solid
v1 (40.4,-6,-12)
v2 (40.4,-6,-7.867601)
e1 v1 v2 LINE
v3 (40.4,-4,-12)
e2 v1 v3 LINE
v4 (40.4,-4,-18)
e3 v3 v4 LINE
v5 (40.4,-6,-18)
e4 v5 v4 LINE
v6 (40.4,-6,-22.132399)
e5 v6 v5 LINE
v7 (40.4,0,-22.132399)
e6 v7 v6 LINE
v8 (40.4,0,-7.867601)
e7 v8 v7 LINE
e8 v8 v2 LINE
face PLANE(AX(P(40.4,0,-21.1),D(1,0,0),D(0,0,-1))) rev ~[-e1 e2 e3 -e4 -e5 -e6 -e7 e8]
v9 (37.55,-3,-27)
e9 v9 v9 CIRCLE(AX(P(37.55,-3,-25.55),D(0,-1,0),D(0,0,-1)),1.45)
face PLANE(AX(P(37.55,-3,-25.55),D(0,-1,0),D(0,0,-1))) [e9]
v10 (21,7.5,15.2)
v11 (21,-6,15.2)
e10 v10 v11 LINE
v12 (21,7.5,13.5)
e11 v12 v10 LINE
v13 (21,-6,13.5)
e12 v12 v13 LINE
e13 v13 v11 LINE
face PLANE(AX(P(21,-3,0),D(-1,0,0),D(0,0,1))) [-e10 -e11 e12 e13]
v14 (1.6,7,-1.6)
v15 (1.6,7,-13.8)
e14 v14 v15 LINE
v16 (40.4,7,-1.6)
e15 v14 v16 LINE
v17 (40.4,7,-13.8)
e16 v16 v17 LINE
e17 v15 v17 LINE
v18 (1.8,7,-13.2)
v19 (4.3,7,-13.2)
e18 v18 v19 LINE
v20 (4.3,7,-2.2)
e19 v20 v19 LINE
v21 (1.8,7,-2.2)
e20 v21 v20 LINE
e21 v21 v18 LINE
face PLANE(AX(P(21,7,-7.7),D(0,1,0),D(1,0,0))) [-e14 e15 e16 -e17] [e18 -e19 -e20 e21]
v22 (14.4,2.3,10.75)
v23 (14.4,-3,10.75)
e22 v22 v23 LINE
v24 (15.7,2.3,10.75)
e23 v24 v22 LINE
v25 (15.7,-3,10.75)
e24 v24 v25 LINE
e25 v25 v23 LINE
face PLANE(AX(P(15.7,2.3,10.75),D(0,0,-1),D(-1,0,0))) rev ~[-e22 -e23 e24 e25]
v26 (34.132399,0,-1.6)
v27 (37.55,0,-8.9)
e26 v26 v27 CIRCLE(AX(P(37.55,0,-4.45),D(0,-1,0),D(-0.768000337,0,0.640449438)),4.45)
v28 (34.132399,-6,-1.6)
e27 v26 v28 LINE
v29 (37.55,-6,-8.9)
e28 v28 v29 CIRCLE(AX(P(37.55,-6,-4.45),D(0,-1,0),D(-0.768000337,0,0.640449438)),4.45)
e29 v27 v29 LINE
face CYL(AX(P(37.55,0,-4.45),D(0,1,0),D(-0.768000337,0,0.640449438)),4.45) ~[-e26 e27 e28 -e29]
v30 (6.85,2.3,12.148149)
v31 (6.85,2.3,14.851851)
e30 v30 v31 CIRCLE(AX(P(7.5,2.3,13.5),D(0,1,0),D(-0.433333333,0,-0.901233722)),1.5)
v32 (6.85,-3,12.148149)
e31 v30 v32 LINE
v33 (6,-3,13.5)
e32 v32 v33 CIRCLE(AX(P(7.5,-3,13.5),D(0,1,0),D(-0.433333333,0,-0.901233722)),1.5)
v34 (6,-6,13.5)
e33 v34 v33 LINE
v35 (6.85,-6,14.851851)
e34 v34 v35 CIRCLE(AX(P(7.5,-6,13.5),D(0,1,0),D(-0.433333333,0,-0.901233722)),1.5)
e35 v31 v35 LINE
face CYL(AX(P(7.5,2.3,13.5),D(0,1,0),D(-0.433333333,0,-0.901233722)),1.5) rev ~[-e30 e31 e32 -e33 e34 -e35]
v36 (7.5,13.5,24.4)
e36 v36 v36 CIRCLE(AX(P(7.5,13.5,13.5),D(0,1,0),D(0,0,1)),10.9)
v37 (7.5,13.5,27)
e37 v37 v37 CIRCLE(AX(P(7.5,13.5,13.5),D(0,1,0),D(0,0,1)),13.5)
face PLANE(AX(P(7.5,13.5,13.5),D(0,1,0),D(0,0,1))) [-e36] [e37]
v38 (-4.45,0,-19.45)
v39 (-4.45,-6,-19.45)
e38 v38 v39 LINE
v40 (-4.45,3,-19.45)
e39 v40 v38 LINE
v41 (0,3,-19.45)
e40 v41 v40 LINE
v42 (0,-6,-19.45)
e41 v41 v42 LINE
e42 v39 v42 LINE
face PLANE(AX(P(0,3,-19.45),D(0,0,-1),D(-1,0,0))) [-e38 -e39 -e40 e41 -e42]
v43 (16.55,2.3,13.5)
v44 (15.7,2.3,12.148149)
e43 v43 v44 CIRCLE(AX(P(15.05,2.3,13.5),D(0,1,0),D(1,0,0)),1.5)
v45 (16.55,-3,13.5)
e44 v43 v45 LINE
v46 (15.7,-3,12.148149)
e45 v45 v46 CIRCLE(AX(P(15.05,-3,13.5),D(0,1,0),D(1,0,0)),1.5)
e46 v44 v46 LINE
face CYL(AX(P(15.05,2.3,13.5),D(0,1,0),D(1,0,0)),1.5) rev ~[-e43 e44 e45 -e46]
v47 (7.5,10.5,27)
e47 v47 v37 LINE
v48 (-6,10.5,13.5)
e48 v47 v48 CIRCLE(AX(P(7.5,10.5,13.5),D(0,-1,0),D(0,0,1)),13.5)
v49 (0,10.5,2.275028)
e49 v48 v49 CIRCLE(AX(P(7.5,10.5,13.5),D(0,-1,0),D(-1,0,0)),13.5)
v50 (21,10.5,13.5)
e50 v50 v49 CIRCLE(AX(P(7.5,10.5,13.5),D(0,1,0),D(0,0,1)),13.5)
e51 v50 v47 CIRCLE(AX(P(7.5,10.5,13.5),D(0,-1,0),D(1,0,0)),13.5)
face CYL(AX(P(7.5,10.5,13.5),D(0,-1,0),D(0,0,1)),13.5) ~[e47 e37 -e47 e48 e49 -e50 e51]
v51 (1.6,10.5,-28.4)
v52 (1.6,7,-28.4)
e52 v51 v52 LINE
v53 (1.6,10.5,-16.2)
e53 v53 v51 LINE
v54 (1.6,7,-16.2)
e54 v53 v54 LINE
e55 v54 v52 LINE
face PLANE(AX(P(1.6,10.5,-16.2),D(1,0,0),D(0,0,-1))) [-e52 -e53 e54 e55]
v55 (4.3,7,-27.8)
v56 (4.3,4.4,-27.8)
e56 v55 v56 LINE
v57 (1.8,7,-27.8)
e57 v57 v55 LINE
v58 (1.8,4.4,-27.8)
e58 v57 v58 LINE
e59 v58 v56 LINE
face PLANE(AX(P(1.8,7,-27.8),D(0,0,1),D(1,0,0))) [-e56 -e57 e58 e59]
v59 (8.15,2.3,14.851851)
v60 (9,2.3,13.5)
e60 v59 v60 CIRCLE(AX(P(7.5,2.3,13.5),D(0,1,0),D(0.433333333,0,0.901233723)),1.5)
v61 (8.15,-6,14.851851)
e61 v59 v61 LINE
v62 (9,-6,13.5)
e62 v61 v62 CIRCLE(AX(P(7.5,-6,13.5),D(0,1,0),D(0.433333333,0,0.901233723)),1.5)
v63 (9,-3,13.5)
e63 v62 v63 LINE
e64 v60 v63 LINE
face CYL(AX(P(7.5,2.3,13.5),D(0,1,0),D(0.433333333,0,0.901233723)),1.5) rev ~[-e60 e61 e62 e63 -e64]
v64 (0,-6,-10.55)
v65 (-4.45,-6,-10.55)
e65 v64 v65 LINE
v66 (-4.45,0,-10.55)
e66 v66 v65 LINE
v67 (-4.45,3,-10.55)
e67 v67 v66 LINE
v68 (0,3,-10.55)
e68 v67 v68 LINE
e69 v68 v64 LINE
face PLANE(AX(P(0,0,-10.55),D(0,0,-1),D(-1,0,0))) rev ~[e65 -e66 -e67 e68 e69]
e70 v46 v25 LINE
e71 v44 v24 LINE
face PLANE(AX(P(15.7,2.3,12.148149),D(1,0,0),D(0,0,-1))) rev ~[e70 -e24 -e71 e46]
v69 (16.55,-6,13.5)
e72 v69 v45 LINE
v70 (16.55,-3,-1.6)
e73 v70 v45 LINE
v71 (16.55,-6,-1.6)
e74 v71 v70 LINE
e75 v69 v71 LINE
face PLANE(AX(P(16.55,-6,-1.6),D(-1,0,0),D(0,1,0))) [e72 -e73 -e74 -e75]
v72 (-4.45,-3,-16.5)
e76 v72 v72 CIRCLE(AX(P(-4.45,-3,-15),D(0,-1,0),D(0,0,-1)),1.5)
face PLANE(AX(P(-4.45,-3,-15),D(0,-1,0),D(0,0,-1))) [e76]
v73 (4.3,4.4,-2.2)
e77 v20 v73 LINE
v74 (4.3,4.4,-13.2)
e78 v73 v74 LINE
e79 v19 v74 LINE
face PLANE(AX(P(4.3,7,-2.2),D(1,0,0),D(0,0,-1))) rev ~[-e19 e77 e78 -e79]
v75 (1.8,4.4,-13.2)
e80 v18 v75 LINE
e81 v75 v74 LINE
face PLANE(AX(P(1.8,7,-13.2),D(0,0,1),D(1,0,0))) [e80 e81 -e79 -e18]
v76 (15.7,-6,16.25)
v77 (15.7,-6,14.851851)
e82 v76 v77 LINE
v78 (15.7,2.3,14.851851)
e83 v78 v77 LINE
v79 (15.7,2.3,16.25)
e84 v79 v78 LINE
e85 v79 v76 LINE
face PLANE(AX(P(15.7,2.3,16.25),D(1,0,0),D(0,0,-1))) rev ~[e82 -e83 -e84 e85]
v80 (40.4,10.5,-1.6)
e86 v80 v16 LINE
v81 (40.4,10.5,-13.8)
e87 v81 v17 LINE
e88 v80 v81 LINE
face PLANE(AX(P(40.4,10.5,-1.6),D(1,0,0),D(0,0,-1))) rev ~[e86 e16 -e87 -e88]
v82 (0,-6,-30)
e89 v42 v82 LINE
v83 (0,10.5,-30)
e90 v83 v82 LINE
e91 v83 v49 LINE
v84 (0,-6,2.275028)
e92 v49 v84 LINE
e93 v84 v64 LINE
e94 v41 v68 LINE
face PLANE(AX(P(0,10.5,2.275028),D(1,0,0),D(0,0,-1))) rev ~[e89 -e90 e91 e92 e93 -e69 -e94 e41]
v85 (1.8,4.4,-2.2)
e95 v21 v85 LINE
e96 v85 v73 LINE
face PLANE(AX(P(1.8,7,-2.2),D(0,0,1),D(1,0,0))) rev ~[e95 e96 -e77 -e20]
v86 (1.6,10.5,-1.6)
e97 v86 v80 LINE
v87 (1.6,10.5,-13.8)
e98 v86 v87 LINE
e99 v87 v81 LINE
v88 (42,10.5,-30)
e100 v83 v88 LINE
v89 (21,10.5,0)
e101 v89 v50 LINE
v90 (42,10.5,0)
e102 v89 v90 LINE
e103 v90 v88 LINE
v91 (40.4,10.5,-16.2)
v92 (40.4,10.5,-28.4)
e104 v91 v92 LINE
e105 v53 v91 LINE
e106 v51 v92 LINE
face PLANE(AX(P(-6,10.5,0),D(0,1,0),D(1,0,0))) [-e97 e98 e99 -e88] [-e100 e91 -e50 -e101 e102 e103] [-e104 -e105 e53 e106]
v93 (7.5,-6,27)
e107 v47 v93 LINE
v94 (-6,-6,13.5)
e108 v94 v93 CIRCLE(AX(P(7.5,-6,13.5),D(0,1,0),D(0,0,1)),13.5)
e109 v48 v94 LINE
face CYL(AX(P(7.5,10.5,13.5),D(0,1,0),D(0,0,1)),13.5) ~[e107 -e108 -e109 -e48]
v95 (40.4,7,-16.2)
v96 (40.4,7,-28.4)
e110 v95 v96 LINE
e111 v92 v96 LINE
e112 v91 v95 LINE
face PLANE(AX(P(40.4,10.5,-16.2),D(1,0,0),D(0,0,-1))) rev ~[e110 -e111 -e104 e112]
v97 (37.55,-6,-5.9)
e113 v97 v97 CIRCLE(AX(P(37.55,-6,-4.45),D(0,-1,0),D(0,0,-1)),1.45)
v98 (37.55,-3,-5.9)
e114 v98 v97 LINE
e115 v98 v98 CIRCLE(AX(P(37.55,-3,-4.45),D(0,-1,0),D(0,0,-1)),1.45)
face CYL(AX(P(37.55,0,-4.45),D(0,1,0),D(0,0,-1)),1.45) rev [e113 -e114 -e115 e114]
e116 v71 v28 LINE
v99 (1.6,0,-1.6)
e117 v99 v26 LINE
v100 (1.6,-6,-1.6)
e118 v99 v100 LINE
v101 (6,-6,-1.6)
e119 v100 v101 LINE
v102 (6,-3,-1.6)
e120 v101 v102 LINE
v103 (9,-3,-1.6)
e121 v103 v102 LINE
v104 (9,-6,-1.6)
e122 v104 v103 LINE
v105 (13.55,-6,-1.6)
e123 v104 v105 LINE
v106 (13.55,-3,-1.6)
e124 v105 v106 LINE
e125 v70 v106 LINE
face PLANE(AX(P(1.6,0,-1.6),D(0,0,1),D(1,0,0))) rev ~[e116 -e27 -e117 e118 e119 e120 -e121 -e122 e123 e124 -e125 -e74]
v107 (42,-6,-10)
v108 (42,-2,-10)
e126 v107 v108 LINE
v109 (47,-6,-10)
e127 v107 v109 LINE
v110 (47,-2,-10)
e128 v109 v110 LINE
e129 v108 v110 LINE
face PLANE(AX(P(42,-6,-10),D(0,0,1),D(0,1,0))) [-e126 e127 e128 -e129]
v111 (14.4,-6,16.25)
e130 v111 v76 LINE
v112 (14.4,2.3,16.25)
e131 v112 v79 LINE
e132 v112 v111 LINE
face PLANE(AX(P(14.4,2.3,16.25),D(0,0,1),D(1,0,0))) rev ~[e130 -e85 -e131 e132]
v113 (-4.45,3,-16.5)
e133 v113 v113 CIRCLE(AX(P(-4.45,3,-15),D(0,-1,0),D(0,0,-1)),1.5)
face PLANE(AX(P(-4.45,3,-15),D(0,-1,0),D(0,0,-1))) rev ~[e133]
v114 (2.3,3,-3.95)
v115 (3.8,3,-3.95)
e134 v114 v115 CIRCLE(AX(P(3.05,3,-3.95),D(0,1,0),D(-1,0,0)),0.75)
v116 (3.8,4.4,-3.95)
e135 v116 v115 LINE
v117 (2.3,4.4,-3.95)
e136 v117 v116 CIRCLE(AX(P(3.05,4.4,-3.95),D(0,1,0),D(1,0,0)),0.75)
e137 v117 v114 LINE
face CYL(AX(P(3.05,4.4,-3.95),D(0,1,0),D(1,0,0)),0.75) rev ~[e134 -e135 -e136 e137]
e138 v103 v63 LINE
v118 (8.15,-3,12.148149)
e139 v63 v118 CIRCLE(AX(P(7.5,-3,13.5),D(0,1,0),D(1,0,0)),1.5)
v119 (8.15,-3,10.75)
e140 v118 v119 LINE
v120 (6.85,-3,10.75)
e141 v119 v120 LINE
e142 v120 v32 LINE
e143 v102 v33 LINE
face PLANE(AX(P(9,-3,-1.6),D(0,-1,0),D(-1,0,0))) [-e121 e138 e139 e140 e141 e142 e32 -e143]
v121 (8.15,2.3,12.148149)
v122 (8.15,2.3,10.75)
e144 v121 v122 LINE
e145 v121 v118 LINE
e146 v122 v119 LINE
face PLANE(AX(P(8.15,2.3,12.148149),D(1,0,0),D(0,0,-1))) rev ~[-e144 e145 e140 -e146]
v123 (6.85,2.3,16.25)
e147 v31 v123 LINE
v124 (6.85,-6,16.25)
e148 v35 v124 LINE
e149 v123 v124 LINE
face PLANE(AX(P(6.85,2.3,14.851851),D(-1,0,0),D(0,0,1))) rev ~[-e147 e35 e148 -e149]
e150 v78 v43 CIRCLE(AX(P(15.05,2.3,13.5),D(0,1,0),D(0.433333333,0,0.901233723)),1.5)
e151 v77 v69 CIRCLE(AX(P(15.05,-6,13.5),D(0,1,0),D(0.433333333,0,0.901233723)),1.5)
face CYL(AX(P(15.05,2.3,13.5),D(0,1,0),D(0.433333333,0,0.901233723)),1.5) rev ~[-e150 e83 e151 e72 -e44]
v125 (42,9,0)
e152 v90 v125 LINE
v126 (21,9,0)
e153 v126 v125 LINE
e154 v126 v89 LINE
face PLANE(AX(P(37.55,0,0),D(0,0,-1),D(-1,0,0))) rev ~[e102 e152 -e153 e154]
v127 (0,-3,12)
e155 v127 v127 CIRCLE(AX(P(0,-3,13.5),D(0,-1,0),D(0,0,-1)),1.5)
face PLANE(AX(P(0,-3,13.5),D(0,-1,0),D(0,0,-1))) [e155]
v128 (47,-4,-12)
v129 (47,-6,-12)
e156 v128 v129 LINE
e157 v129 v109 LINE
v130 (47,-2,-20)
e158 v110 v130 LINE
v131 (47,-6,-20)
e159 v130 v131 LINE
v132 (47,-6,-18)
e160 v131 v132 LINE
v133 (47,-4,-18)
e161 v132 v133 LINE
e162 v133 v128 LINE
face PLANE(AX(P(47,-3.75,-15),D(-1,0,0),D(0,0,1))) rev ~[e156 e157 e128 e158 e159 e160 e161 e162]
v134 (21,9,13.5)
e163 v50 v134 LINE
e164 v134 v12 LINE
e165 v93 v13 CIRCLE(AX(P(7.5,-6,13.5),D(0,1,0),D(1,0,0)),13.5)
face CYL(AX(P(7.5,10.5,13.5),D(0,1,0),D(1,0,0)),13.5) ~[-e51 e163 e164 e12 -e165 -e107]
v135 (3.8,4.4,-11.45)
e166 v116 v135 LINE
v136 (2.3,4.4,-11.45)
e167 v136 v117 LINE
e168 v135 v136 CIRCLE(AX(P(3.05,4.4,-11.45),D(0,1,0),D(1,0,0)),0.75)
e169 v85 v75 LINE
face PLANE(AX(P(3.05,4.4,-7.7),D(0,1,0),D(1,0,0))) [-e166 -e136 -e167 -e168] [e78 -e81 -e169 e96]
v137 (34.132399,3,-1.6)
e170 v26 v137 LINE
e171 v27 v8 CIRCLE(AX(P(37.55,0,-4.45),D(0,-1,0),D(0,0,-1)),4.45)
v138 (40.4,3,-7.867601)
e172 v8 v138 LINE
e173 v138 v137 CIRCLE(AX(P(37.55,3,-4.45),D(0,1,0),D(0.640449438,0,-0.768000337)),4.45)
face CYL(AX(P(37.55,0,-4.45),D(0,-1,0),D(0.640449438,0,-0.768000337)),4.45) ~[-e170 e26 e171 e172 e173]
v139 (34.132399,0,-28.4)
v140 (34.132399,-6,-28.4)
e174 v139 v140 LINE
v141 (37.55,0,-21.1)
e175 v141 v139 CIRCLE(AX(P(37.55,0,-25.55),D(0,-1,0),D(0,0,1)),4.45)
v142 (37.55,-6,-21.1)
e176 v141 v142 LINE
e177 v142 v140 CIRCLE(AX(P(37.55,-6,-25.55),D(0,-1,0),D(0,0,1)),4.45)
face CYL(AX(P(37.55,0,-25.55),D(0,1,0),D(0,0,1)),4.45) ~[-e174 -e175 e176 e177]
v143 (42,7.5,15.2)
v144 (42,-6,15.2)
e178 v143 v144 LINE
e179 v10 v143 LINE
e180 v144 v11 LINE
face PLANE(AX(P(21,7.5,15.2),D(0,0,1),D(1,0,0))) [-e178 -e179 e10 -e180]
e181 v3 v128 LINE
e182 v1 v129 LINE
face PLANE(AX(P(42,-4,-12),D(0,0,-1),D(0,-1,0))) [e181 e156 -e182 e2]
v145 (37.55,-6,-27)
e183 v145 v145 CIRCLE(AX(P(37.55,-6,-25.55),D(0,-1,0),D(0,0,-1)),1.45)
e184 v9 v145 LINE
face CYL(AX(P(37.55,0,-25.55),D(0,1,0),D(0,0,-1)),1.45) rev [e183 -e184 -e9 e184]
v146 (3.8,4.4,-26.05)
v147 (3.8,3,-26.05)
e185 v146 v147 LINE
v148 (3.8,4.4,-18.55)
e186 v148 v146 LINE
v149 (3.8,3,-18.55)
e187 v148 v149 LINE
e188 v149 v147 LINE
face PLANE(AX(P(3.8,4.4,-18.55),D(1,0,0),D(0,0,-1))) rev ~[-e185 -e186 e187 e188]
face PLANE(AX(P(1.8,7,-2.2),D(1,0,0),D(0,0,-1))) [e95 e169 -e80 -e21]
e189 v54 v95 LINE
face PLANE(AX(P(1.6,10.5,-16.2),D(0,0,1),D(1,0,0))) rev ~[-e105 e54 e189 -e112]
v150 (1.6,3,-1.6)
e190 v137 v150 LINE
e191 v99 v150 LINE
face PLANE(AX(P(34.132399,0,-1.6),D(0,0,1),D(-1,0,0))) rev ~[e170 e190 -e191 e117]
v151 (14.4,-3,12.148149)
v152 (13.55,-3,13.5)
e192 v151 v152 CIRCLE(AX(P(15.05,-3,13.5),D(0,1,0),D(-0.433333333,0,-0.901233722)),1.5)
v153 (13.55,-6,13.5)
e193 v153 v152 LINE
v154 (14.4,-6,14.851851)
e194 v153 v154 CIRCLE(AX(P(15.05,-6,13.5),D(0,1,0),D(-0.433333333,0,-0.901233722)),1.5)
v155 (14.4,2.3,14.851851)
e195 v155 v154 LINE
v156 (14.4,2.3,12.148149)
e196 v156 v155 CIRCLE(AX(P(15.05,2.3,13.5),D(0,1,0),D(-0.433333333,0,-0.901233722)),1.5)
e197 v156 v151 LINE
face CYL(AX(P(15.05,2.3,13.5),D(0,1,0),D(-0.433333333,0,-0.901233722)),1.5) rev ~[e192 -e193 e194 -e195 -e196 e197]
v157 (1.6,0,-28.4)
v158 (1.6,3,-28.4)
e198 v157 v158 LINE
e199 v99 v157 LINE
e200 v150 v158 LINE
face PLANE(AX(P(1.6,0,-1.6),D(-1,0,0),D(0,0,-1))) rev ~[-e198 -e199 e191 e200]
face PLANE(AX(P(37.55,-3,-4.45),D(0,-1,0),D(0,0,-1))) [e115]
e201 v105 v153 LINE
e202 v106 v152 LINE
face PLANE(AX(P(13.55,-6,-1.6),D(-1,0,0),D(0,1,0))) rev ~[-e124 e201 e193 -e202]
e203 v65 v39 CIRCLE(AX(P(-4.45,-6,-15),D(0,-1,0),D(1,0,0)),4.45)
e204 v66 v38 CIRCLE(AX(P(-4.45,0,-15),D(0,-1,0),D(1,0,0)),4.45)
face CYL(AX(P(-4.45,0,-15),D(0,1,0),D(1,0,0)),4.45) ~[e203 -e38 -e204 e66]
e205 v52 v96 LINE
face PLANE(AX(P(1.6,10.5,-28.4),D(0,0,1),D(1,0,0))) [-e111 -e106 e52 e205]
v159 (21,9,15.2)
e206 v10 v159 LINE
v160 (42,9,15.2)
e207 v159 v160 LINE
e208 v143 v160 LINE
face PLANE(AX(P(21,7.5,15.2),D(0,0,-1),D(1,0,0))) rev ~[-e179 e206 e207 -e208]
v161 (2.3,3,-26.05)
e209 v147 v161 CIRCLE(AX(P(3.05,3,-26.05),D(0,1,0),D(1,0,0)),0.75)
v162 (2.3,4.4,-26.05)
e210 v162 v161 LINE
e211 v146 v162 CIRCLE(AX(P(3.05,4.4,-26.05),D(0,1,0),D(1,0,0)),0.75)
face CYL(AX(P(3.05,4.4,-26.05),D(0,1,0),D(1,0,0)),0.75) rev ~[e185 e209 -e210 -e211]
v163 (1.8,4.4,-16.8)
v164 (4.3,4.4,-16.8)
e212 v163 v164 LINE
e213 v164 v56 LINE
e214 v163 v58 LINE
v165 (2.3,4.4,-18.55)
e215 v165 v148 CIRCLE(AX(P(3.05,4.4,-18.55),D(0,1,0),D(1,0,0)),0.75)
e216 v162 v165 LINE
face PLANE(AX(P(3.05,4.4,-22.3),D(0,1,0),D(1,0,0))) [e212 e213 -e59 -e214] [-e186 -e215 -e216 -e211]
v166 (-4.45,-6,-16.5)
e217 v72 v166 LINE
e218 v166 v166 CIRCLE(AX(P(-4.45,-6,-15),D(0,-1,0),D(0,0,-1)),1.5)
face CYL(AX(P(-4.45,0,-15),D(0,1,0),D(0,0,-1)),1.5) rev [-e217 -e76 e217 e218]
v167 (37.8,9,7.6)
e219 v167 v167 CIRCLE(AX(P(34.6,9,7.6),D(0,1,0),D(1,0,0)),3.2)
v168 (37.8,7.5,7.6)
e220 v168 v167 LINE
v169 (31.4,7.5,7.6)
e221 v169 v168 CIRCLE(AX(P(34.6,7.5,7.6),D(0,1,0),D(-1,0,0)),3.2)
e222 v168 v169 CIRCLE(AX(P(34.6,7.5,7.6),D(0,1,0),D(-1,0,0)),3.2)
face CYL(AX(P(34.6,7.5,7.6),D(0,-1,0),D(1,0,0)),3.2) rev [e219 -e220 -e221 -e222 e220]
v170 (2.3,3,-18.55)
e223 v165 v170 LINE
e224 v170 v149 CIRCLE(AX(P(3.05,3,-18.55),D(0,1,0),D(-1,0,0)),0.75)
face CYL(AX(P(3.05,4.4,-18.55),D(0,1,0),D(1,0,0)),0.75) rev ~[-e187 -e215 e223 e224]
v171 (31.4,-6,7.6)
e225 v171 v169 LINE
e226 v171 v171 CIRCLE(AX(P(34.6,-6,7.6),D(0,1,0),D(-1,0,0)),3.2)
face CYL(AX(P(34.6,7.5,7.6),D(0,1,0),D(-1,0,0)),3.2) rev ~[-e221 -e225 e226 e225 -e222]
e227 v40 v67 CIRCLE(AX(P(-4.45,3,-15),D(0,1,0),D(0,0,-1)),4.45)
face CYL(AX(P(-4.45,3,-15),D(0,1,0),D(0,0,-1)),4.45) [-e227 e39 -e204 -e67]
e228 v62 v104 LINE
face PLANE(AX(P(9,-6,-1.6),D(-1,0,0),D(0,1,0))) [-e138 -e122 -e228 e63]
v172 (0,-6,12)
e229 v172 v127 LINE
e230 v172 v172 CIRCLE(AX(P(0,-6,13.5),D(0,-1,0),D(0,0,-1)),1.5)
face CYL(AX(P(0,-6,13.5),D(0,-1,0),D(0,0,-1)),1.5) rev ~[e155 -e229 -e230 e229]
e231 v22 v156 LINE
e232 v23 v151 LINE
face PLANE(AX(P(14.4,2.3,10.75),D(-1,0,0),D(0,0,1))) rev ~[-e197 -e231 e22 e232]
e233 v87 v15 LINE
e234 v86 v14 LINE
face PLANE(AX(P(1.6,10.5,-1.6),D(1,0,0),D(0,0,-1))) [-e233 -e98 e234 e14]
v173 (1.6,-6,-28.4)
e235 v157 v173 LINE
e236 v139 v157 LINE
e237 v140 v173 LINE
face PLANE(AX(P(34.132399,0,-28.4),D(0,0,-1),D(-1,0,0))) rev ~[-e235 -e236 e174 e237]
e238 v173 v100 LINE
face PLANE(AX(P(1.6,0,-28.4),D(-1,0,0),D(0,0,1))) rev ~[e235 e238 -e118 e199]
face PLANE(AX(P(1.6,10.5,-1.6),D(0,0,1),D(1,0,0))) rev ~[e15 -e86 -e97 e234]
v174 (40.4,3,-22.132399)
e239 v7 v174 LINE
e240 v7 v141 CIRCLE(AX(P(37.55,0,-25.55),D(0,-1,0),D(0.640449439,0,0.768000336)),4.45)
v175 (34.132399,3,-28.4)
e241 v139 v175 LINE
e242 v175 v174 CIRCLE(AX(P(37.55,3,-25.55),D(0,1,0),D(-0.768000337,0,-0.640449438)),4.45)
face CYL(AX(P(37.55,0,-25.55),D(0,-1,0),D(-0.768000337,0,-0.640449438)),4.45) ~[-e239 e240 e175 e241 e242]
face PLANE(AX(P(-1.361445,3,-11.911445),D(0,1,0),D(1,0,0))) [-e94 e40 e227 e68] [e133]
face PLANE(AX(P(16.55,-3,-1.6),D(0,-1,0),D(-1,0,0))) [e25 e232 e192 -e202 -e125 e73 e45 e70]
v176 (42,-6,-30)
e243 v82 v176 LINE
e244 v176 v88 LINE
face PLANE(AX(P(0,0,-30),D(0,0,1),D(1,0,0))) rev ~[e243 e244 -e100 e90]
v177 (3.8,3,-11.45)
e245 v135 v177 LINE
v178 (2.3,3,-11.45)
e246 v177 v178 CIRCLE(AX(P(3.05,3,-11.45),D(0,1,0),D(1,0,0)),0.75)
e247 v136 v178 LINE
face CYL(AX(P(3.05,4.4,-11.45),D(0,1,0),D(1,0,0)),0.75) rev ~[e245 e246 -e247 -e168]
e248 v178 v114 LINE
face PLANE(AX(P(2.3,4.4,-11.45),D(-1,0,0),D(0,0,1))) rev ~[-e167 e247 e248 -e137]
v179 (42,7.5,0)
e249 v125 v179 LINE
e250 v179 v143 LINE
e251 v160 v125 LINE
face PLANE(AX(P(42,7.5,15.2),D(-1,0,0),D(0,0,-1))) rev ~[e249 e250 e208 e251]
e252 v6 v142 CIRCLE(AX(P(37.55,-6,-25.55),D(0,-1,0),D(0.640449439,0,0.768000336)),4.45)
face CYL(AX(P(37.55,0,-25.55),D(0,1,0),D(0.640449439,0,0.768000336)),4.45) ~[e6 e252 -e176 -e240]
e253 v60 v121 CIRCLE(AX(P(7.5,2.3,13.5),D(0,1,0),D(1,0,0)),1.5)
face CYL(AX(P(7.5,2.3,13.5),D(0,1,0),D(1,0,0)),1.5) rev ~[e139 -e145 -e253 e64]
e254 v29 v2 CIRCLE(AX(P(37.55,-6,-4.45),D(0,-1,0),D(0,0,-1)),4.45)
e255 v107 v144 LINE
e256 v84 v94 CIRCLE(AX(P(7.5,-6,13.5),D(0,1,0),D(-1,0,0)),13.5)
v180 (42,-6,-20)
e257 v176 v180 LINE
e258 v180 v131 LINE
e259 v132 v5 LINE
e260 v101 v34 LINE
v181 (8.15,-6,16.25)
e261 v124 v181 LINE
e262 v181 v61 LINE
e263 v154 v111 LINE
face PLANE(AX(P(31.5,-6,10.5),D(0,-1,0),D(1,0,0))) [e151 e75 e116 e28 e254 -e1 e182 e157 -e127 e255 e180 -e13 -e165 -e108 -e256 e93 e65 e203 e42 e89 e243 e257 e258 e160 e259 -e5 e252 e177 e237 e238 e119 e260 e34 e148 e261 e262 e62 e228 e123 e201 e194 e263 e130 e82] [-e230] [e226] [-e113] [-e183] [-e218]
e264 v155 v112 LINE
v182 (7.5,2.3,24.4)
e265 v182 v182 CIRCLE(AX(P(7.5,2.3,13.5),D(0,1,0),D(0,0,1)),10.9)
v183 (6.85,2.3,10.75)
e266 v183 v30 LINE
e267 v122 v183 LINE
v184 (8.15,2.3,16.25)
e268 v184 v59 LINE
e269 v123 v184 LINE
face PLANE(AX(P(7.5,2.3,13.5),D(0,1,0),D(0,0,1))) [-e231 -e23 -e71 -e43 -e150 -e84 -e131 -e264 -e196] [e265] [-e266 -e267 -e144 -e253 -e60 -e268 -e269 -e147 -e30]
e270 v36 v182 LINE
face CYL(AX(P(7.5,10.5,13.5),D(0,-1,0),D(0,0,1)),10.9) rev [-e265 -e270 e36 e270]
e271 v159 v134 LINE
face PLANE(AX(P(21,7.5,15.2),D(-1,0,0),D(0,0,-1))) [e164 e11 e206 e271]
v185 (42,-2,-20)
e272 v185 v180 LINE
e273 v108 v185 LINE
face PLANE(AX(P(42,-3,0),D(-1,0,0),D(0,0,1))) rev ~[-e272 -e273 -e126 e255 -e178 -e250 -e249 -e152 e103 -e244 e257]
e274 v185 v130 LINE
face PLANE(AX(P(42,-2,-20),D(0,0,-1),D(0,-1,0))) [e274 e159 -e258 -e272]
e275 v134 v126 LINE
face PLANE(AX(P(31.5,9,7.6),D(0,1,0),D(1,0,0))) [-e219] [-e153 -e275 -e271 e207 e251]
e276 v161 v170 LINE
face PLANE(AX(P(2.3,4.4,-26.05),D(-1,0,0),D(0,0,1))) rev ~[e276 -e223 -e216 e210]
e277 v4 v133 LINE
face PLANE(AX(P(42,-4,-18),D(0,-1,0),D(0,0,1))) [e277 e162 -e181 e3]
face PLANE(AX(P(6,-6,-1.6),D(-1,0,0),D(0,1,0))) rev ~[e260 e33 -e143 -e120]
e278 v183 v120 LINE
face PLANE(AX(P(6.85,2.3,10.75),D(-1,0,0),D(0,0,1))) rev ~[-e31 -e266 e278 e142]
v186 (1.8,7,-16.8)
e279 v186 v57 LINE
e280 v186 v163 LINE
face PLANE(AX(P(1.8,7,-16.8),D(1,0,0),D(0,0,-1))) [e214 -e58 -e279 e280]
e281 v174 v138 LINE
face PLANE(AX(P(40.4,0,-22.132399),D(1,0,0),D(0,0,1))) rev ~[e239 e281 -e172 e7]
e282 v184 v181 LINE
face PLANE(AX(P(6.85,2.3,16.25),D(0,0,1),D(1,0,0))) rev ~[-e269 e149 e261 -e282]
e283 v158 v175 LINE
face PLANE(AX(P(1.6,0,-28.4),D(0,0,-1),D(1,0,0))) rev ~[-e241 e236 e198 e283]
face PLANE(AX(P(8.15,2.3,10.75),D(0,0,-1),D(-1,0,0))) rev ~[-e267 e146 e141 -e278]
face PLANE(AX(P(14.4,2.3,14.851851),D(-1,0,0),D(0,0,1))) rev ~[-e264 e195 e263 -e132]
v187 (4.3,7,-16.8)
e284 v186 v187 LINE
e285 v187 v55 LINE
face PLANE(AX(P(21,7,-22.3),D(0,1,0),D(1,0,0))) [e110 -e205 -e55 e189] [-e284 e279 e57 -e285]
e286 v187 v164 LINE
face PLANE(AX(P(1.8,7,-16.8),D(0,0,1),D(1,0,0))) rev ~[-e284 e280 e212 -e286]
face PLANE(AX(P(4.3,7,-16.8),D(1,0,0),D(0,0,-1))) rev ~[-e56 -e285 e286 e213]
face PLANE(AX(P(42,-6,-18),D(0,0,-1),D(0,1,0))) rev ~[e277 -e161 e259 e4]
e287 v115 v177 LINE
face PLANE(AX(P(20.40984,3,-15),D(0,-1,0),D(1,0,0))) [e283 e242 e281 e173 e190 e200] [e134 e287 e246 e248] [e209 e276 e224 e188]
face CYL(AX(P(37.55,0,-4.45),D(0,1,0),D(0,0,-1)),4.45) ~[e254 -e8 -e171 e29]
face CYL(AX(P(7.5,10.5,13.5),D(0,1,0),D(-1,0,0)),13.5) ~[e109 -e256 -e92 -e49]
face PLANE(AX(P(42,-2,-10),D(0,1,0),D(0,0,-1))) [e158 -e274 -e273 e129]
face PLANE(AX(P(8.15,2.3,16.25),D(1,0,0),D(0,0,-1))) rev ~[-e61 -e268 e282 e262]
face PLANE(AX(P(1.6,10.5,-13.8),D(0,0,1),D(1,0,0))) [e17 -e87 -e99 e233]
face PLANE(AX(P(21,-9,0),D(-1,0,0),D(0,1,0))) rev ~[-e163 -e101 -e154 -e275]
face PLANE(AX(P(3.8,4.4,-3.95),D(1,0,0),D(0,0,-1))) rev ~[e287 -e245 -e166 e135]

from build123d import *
from build123d.topology import SkipClean

# Parameters (mm, degrees)
SKETCH1_W            = 42
SKETCH1_H            = 30
BOSS_EXTRUDE1_DEPTH  = 10.5
SKETCH2_W            = 38.8
SKETCH2_H            = 12.2
CUT_EXTRUDE1_DEPTH   = 3.5
SKETCH3_W            = 2.5
SKETCH3_H            = 11
CUT_EXTRUDE2_DEPTH   = 2.6
SKETCH4_R            = 0.75
CUT_EXTRUDE3_DEPTH   = 52.973166153
SKETCH13_R           = 1.45
SKETCH13_W           = 1.6
SKETCH13_H           = 6.1
BOSS_EXTRUDE6_DEPTH  = 6
SKETCH15_R           = 4.45
SKETCH15_R_2         = 1.5
BOSS_EXTRUDE7_DEPTH  = 6
BOSS_EXTRUDE8_START  = 3
SKETCH16_R           = 1.5
BOSS_EXTRUDE8_DEPTH  = 3
SKETCH17_W           = 21
SKETCH17_H           = 10.5
BOSS_EXTRUDE9_DEPTH  = 21
BOSS_EXTRUDE20_DEPTH = 27
CUT_EXTRUDE15_DEPTH  = 27
SKETCH45_R           = 10.9
CUT_EXTRUDE16_DEPTH  = 8.2
CUT_EXTRUDE17_DEPTH  = 53.836445755
SKETCH48_W           = 3
SKETCH48_H           = 3
CUT_EXTRUDE18_DEPTH  = 15.1
SKETCH49_R           = 13.5
SKETCH49_R_2         = 10.9
BOSS_EXTRUDE21_DEPTH = 3
SKETCH51_W           = 28.827310349
SKETCH51_H           = 3
CUT_EXTRUDE20_DEPTH  = 54.350257731
SKETCH52_W           = 6
SKETCH52_H           = 2
CUT_EXTRUDE21_DEPTH  = 10
BOSS_EXTRUDE22_DEPTH = 5
SKETCH54_R           = 1.5
CUT_EXTRUDE22_DEPTH  = 3
SKETCH55_R           = 1.5
SKETCH55_R_2         = 1.45
BOSS_EXTRUDE23_DEPTH = 3
SKETCH57_W           = 21
SKETCH57_H           = 21
BOSS_EXTRUDE25_DEPTH = 3
SKETCH58_W           = 21
SKETCH58_H           = 5.8
CUT_EXTRUDE23_DEPTH  = 58.36941694
SKETCH59_R           = 3.2
CUT_EXTRUDE24_DEPTH  = 150
SKETCH60_W           = 21
SKETCH60_H           = 15.2
SKETCH60_R           = 3.2
BOSS_EXTRUDE26_DEPTH = 1.5
CUT_EXTRUDE25_DEPTH  = 3


with BuildPart() as part:
    # Sketch1 → Boss-Extrude1 (new body)
    with BuildSketch(Plane(origin=(0, 0, 0), x_dir=(1, 0, 0), z_dir=(0, 1, 0))):
        with Locations((21, 15)):
            Rectangle(SKETCH1_W, SKETCH1_H)
    extrude(amount=BOSS_EXTRUDE1_DEPTH)

    # Sketch2 → Cut-Extrude1 (cut)
    with BuildSketch(Plane(origin=(0, 10.5, 0), x_dir=(1, 0, 0), z_dir=(0, 1, 0))):
        with Locations((21, 22.3)):
            Rectangle(SKETCH2_W, SKETCH2_H)
        with Locations((21, 7.7)):
            Rectangle(SKETCH2_W, SKETCH2_H)
    extrude(amount=-CUT_EXTRUDE1_DEPTH, mode=Mode.SUBTRACT)

    # Sketch3 → Cut-Extrude2 (cut)
    with BuildSketch(Plane(origin=(0, 7, 0), x_dir=(1, 0, 0), z_dir=(0, 1, 0))):
        with Locations((3.05, 22.3)):
            Rectangle(SKETCH3_W, SKETCH3_H)
        with Locations((3.05, 7.7)):
            Rectangle(SKETCH3_W, SKETCH3_H)
    extrude(amount=-CUT_EXTRUDE2_DEPTH, mode=Mode.SUBTRACT)

    # Sketch4 → Cut-Extrude3 (cut, through all)
    with BuildSketch(Plane(origin=(0, 4.4, 0), x_dir=(1, 0, 0), z_dir=(0, 1, 0))):
        with Locations((3.05, 26.05)):
            Circle(SKETCH4_R)
        with BuildLine():
            ThreePointArc((3.8, 26.05), (3.05, 25.3), (2.3, 26.05))
            Line((2.3, 26.05), (2.3, 23.8))
            ThreePointArc((2.3, 23.8), (3.05, 24.55), (3.8, 23.8))
            Line((3.8, 23.8), (3.8, 26.05))
        make_face()
        with Locations((3.05, 23.8)):
            Circle(SKETCH4_R)
        with BuildLine():
            ThreePointArc((3.8, 23.8), (3.05, 23.05), (2.3, 23.8))
            Line((2.3, 23.8), (2.3, 20.8))
            ThreePointArc((2.3, 20.8), (3.05, 21.55), (3.8, 20.8))
            Line((3.8, 20.8), (3.8, 23.8))
        make_face()
        with Locations((3.05, 20.8)):
            Circle(SKETCH4_R)
        with BuildLine():
            ThreePointArc((3.8, 20.8), (3.05, 20.05), (2.3, 20.8))
            Line((2.3, 20.8), (2.3, 18.55))
            ThreePointArc((2.3, 18.55), (3.05, 19.3), (3.8, 18.55))
            Line((3.8, 18.55), (3.8, 20.8))
        make_face()
        with Locations((3.05, 18.55)):
            Circle(SKETCH4_R)
        with Locations((3.05, 11.45)):
            Circle(SKETCH4_R)
        with BuildLine():
            ThreePointArc((3.8, 11.45), (3.05, 10.7), (2.3, 11.45))
            Line((2.3, 11.45), (2.3, 9.2))
            ThreePointArc((2.3, 9.2), (3.05, 9.95), (3.8, 9.2))
            Line((3.8, 9.2), (3.8, 11.45))
        make_face()
        with Locations((3.05, 9.2)):
            Circle(SKETCH4_R)
        with BuildLine():
            ThreePointArc((3.8, 9.2), (3.05, 8.45), (2.3, 9.2))
            Line((2.3, 9.2), (2.3, 6.2))
            ThreePointArc((2.3, 6.2), (3.05, 6.95), (3.8, 6.2))
            Line((3.8, 6.2), (3.8, 9.2))
        make_face()
        with Locations((3.05, 6.2)):
            Circle(SKETCH4_R)
        with BuildLine():
            ThreePointArc((3.8, 6.2), (3.05, 5.45), (2.3, 6.2))
            Line((2.3, 6.2), (2.3, 3.95))
            ThreePointArc((2.3, 3.95), (3.05, 4.7), (3.8, 3.95))
            Line((3.8, 3.95), (3.8, 6.2))
        make_face()
        with Locations((3.05, 3.95)):
            Circle(SKETCH4_R)
    extrude(amount=-CUT_EXTRUDE3_DEPTH, mode=Mode.SUBTRACT)

    # Sketch13 → Boss-Extrude6 (add)
    # profile 1 of 12: a face of its own
    with BuildSketch(Plane.XZ):
        with BuildLine():
            Line((40.4, -28.4), (40.4, -22.132398502))
            ThreePointArc((40.4, -22.132398502), (39.065614287, -21.3660529), (37.55, -21.1))
            ThreePointArc((37.55, -21.1), (33.519801494, -23.663203774), (34.132398502, -28.4))
            Line((34.132398502, -28.4), (40.4, -28.4))
        make_face()
        with Locations(Location((37.55, -25.55, 0), (0, 0, 270))):
            Circle(SKETCH13_R, mode=Mode.SUBTRACT)
    # profile 2 of 12: a face of its own
    with BuildSketch(Plane.XZ):
        with BuildLine():
            ThreePointArc((37.55, -30), (40.696625176, -28.696625176), (42, -25.55))
            ThreePointArc((42, -25.55), (41.580198506, -23.663203774), (40.4, -22.132398502))
            Line((40.4, -22.132398502), (40.4, -28.4))
            Line((40.4, -28.4), (34.132398502, -28.4))
            ThreePointArc((34.132398502, -28.4), (35.663203774, -29.580198506), (37.55, -30))
        make_face()
    # profile 3 of 12: a face of its own
    with BuildSketch(Plane.XZ):
        with BuildLine():
            Line((42, -30), (42, -25.55))
            ThreePointArc((42, -25.55), (40.696625176, -28.696625176), (37.55, -30))
            Line((37.55, -30), (42, -30))
        make_face()
    # profile 4 of 12: a face of its own
    with BuildSketch(Plane.XZ):
        with BuildLine():
            Line((1.6, -15), (0, -15))
            Line((0, -15), (0, -30))
            Line((0, -30), (37.55, -30))
            ThreePointArc((37.55, -30), (35.663203774, -29.580198506), (34.132398502, -28.4))
            Line((34.132398502, -28.4), (1.6, -28.4))
            Line((1.6, -28.4), (1.6, -15))
        make_face()
    # profile 5 of 12: a face of its own
    with BuildSketch(Plane.XZ):
        with BuildLine():
            ThreePointArc((37.55, -8.9), (39.065614287, -8.6339471), (40.4, -7.867601498))
            Line((40.4, -7.867601498), (40.4, -1.6))
            Line((40.4, -1.6), (34.132398502, -1.6))
            ThreePointArc((34.132398502, -1.6), (33.519801494, -6.336796226), (37.55, -8.9))
        make_face()
        with Locations(Location((37.55, -4.45, 0), (0, 0, 270))):
            Circle(SKETCH13_R, mode=Mode.SUBTRACT)
    # profile 6 of 12: a face of its own
    with BuildSketch(Plane.XZ):
        with BuildLine():
            ThreePointArc((40.4, -7.867601498), (41.580198506, -6.336796226), (42, -4.45))
            ThreePointArc((42, -4.45), (40.696625172, -1.30337482), (37.549999989, 0))
            ThreePointArc((37.549999989, 0), (35.663203769, -0.419801496), (34.132398502, -1.6))
            Line((34.132398502, -1.6), (40.4, -1.6))
            Line((40.4, -1.6), (40.4, -7.867601498))
        make_face()
    # profile 7 of 12: a face of its own
    with BuildSketch(Plane.XZ):
        with BuildLine():
            Line((42, -4.45), (42, 0))
            Line((42, 0), (37.549999989, 0))
            ThreePointArc((37.549999989, 0), (40.696625172, -1.30337482), (42, -4.45))
        make_face()
    # profile 8 of 12: a face of its own
    with BuildSketch(Plane.XZ):
        with BuildLine():
            ThreePointArc((34.132398502, -1.6), (35.663203769, -0.419801496), (37.549999989, 0))
            Line((37.549999989, 0), (0, 0))
            Line((0, 0), (0, -15))
            Line((0, -15), (1.6, -15))
            Line((1.6, -15), (1.6, -1.6))
            Line((1.6, -1.6), (34.132398502, -1.6))
        make_face()
    # profile 9 of 12: a face of its own
    with BuildSketch(Plane.XZ):
        with BuildLine():
            Line((42, -8.9), (42, -4.45))
            ThreePointArc((42, -4.45), (41.580198506, -6.336796226), (40.4, -7.867601498))
            Line((40.4, -7.867601498), (40.4, -8.9))
            Line((40.4, -8.9), (42, -8.9))
        make_face()
    # profile 10 of 12: a face of its own
    with BuildSketch(Plane.XZ):
        with BuildLine():
            Line((42, -25.55), (42, -21.1))
            Line((42, -21.1), (40.4, -21.1))
            Line((40.4, -21.1), (40.4, -22.132398502))
            ThreePointArc((40.4, -22.132398502), (41.580198506, -23.663203774), (42, -25.55))
        make_face()
    # profile 11 of 12: a face of its own
    with BuildSketch(Plane.XZ):
        with Locations((41.2, -18.05)):
            Rectangle(SKETCH13_W, SKETCH13_H)
    # profile 12 of 12: a face of its own
    with BuildSketch(Plane.XZ):
        with Locations((41.2, -11.95)):
            Rectangle(SKETCH13_W, SKETCH13_H)
    extrude(amount=BOSS_EXTRUDE6_DEPTH)

    # Sketch15 → Boss-Extrude7 (add)
    # profile 1 of 3: a face of its own
    with BuildSketch(Plane.XZ):
        with Locations((-4.45, -15)):
            Circle(SKETCH15_R)
        with Locations(Location((-4.45, -15, 0), (0, 0, 270))):
            Circle(SKETCH15_R_2, mode=Mode.SUBTRACT)
    # profile 2 of 3: a face of its own
    with BuildSketch(Plane.XZ):
        with BuildLine():
            Line((0, -10.55), (-4.45, -10.55))
            ThreePointArc((-4.45, -10.55), (-1.303374824, -11.853374824), (0, -15))
            Line((0, -15), (0, -10.55))
        make_face()
    # profile 3 of 3: a face of its own
    with BuildSketch(Plane.XZ):
        with BuildLine():
            Line((0, -19.45), (0, -15))
            ThreePointArc((0, -15), (-1.303374824, -18.146625176), (-4.45, -19.45))
            Line((-4.45, -19.45), (0, -19.45))
        make_face()
    extrude(amount=BOSS_EXTRUDE7_DEPTH)

    # Sketch16 → Boss-Extrude8 (add)
    # profile 1 of 4: a face of its own
    with BuildSketch(Plane(origin=(0, 0, 0), x_dir=(1, 0, 0), z_dir=(0, 1, 0)).offset(BOSS_EXTRUDE8_START)):
        with BuildLine():
            Line((0, 19.45), (-4.45, 19.45))
            ThreePointArc((-4.45, 19.45), (-1.303374824, 18.146625176), (0, 15))
            Line((0, 15), (0, 19.45))
        make_face()
    # profile 2 of 4: a face of its own
    with BuildSketch(Plane(origin=(0, 0, 0), x_dir=(1, 0, 0), z_dir=(0, 1, 0)).offset(BOSS_EXTRUDE8_START)):
        with BuildLine():
            Line((0, 10.55), (0, 15))
            ThreePointArc((0, 15), (-1.303374824, 11.853374824), (-4.45, 10.55))
            Line((-4.45, 10.55), (0, 10.55))
        make_face()
    # profile 3 of 4: a face of its own
    with BuildSketch(Plane(origin=(0, 0, 0), x_dir=(1, 0, 0), z_dir=(0, 1, 0)).offset(BOSS_EXTRUDE8_START)):
        with BuildLine():
            ThreePointArc((0, 15), (-1.303374824, 18.146625176), (-4.45, 19.45))
            ThreePointArc((-4.45, 19.45), (-8.9, 15), (-4.45, 10.55))
            ThreePointArc((-4.45, 10.55), (-1.303374824, 11.853374824), (0, 15))
        make_face()
        with Locations(Location((-4.45, 15, 0), (0, 0, 90))):
            Circle(SKETCH16_R, mode=Mode.SUBTRACT)
    # profile 4 of 4: a face of its own
    with BuildSketch(Plane(origin=(0, 0, 0), x_dir=(1, 0, 0), z_dir=(0, 1, 0)).offset(BOSS_EXTRUDE8_START)):
        with Locations(Location((-4.45, 15, 0), (0, 0, 90))):
            Circle(SKETCH16_R)
    extrude(amount=-BOSS_EXTRUDE8_DEPTH)

    # Sketch43 → Boss-Extrude20 (add)
    with BuildSketch(Plane.XY):
        Polygon((21, 10.5), (21, -6), (21, -9), (-6, -9), (-6, -6), (-6, 10.5), align=None)
    extrude(amount=BOSS_EXTRUDE20_DEPTH)

    # Sketch44 → Cut-Extrude15 (cut)
    with BuildSketch(Plane(origin=(0, 10.5, 0), x_dir=(1, 0, 0), z_dir=(0, 1, 0))):
        with BuildLine():
            ThreePointArc((21, -13.5), (17.045941546, -23.045941546), (7.5, -27))
            Line((7.5, -27), (21, -27))
            Line((21, -27), (21, -13.5))
        make_face()
        with BuildLine():
            ThreePointArc((7.5, -27), (-2.045941546, -23.045941546), (-6, -13.5))
            Line((-6, -13.5), (-6, -27))
            Line((-6, -27), (7.5, -27))
        make_face()
        with BuildLine():
            Line((-6, 0), (-6, -13.5))
            ThreePointArc((-6, -13.5), (-4.4058809, -7.136038969), (0, -2.27502784))
            Line((0, -2.27502784), (0, 0))
            Line((0, 0), (-6, 0))
        make_face()
    extrude(amount=-CUT_EXTRUDE15_DEPTH, mode=Mode.SUBTRACT)

    # Sketch45 → Cut-Extrude16 (cut)
    with BuildSketch(Plane(origin=(0, 10.5, 0), x_dir=(1, 0, 0), z_dir=(0, 1, 0))):
        with Locations(Location((7.5, -13.5, 0), (0, 0, 270))):
            Circle(SKETCH45_R)
    extrude(amount=-CUT_EXTRUDE16_DEPTH, mode=Mode.SUBTRACT)

    # Sketch46 → Cut-Extrude17 (cut, through all)
    with BuildSketch(Plane(origin=(0, 2.3, 0), x_dir=(1, 0, 0), z_dir=(0, 1, 0))):
        with BuildLine():
            Line((6.85, -10.75), (6.85, -12.148149417))
            ThreePointArc((6.85, -12.148149417), (7.5, -12), (8.15, -12.148149417))
            Line((8.15, -12.148149417), (8.15, -10.75))
            Line((8.15, -10.75), (6.85, -10.75))
        make_face()
        with BuildLine():
            Line((6.85, -12.148149417), (6.85, -14.851850583))
            ThreePointArc((6.85, -14.851850583), (7.5, -15), (8.15, -14.851850583))
            Line((8.15, -14.851850583), (8.15, -12.148149417))
            ThreePointArc((8.15, -12.148149417), (7.5, -12), (6.85, -12.148149417))
        make_face()
        with BuildLine():
            Line((8.15, -12.148149417), (8.15, -14.851850583))
            ThreePointArc((8.15, -14.851850583), (8.76984251, -14.298435971), (9, -13.5))
            ThreePointArc((9, -13.5), (8.76984251, -12.701564029), (8.15, -12.148149417))
        make_face()
        with BuildLine():
            Line((6.85, -14.851850583), (6.85, -16.25))
            Line((6.85, -16.25), (8.15, -16.25))
            Line((8.15, -16.25), (8.15, -14.851850583))
            ThreePointArc((8.15, -14.851850583), (7.5, -15), (6.85, -14.851850583))
        make_face()
        with BuildLine():
            ThreePointArc((6.85, -12.148149417), (6, -13.5), (6.85, -14.851850583))
            Line((6.85, -14.851850583), (6.85, -12.148149417))
        make_face()
        with BuildLine():
            Line((15.7, -12.148149417), (15.7, -14.851850583))
            ThreePointArc((15.7, -14.851850583), (16.31984251, -14.298435971), (16.55, -13.5))
            ThreePointArc((16.55, -13.5), (16.31984251, -12.701564029), (15.7, -12.148149417))
        make_face()
        with BuildLine():
            ThreePointArc((14.4, -12.148149417), (13.55, -13.5), (14.4, -14.851850583))
            Line((14.4, -14.851850583), (14.4, -12.148149417))
        make_face()
        with BuildLine():
            ThreePointArc((14.4, -12.148149417), (15.05, -12), (15.7, -12.148149417))
            Line((15.7, -12.148149417), (15.7, -10.75))
            Line((15.7, -10.75), (14.4, -10.75))
            Line((14.4, -10.75), (14.4, -12.148149417))
        make_face()
        with BuildLine():
            Line((14.4, -16.25), (15.7, -16.25))
            Line((15.7, -16.25), (15.7, -14.851850583))
            ThreePointArc((15.7, -14.851850583), (15.05, -15), (14.4, -14.851850583))
            Line((14.4, -14.851850583), (14.4, -16.25))
        make_face()
    extrude(amount=-CUT_EXTRUDE17_DEPTH, mode=Mode.SUBTRACT)


with BuildPart() as body_2:
    # Sketch17 → Boss-Extrude9 (new body)
    with BuildSketch(Plane.XY):
        with Locations((31.5, 2.25)):
            Rectangle(SKETCH17_W, SKETCH17_H)
    extrude(amount=BOSS_EXTRUDE9_DEPTH)



with BuildPart() as cut_extrude17_kept_piece:
    # of the separate pieces the step leaves, the one the design keeps (cut_extrude17_pieces_kept)
    add(part.part.solids().sort_by_distance((21, -6, 0))[0])

    # Sketch48 → Cut-Extrude18 (cut)
    with BuildSketch(Plane(origin=(0, 0, -1.6), x_dir=(-1, 0, 0), z_dir=(0, 0, -1))):
        with Locations((-7.5, -4.5)):
            Rectangle(SKETCH48_W, SKETCH48_H)
        with Locations((-15.05, -4.5)):
            Rectangle(SKETCH48_W, SKETCH48_H)
    extrude(amount=-CUT_EXTRUDE18_DEPTH, mode=Mode.SUBTRACT)

    # Sketch49 → Boss-Extrude21 (add)
    with BuildSketch(Plane(origin=(0, 10.5, 0), x_dir=(1, 0, 0), z_dir=(0, 1, 0))):
        with Locations(Location((7.5, -13.5, 0), (0, 0, 270))):
            Circle(SKETCH49_R)
        with Locations(Location((7.5, -13.5, 0), (0, 0, 270))):
            Circle(SKETCH49_R_2, mode=Mode.SUBTRACT)
    extrude(amount=BOSS_EXTRUDE21_DEPTH)

    # Sketch51 → Cut-Extrude20 (cut, through all)
    with BuildSketch(Plane(origin=(0, 0, 0), x_dir=(-1, 0, 0), z_dir=(0, 0, -1))):
        with Locations((-6.586344825, -7.5)):
            Rectangle(SKETCH51_W, SKETCH51_H)
    extrude(amount=-CUT_EXTRUDE20_DEPTH, mode=Mode.SUBTRACT)

    # Sketch52 → Cut-Extrude21 (cut)
    with BuildSketch(Plane(origin=(42, 0, 0), x_dir=(0, 0, -1), z_dir=(1, 0, 0))):
        with Locations((15, -5)):
            Rectangle(SKETCH52_W, SKETCH52_H)
    extrude(amount=-CUT_EXTRUDE21_DEPTH, mode=Mode.SUBTRACT)

    # Sketch53 → Boss-Extrude22 (add)
    with BuildSketch(Plane(origin=(42, 0, 0), x_dir=(0, 0, -1), z_dir=(1, 0, 0))):
        Polygon((12, -6), (10, -6), (10, -2), (20, -2), (20, -6), (18, -6), (18, -4), (12, -4), align=None)
    extrude(amount=BOSS_EXTRUDE22_DEPTH)

    # Sketch54 → Cut-Extrude22 (cut)
    with BuildSketch(Plane.XZ.offset(6)):
        with Locations(Location((0, 13.5, 0), (0, 0, 270))):
            Circle(SKETCH54_R)
    extrude(amount=-CUT_EXTRUDE22_DEPTH, mode=Mode.SUBTRACT)

    # Sketch55 → Boss-Extrude23 (add, symmetric)
    with BuildSketch(Plane.XZ):
        with Locations(Location((-4.45, -15, 0), (0, 0, 270))):
            Circle(SKETCH55_R)
        with Locations(Location((37.55, -4.45, 0), (0, 0, 270))):
            Circle(SKETCH55_R_2)
        with Locations(Location((37.55, -25.55, 0), (0, 0, 270))):
            Circle(SKETCH55_R_2)
    extrude(amount=BOSS_EXTRUDE23_DEPTH, both=True)


with BuildPart() as body_2_1:
    add(body_2.part)

    add(cut_extrude17_kept_piece.part)  # Boss-Extrude25 merges Cut-Extrude17 kept piece
    # Sketch57 → Boss-Extrude25 (add)
    with BuildSketch(Plane.XZ.offset(3)):
        with Locations((31.5, 10.5)):
            Rectangle(SKETCH57_W, SKETCH57_H)
    extrude(amount=BOSS_EXTRUDE25_DEPTH)

    # Sketch58 → Cut-Extrude23 (cut, through all)
    with BuildSketch(Plane(origin=(0, 7.5, 0), x_dir=(1, 0, 0), z_dir=(0, 1, 0))):
        with Locations((31.5, -18.1)):
            Rectangle(SKETCH58_W, SKETCH58_H)
    extrude(amount=-CUT_EXTRUDE23_DEPTH, mode=Mode.SUBTRACT)

    # Sketch59 → Cut-Extrude24 (cut, symmetric)
    with BuildSketch(Plane(origin=(0, 7.5, 0), x_dir=(1, 0, 0), z_dir=(0, 1, 0))):
        with Locations(Location((34.6, -7.6, 0), (0, 0, 180))):
            Circle(SKETCH59_R)
    extrude(amount=CUT_EXTRUDE24_DEPTH, both=True, mode=Mode.SUBTRACT)

    # Sketch60 → Boss-Extrude26 (add)
    with SkipClean():  # the faces are left unmerged after this step: merging them gives an invalid solid
        with BuildSketch(Plane(origin=(0, 7.5, 0), x_dir=(1, 0, 0), z_dir=(0, 1, 0))):
            with Locations((31.5, -7.6)):
                Rectangle(SKETCH60_W, SKETCH60_H)
            with Locations((34.6, -7.6)):
                Circle(SKETCH60_R, mode=Mode.SUBTRACT)
        extrude(amount=BOSS_EXTRUDE26_DEPTH)

    # Sketch61 → Cut-Extrude25 (cut)
    with SkipClean():  # the faces are left unmerged after this step: merging them gives an invalid solid
        with BuildSketch(Plane.XZ):
            with BuildLine():
                Line((1.6, -28.4), (34.132398502, -28.4))
                ThreePointArc((34.132398502, -28.4), (34.403374824, -22.403374824), (40.4, -22.132398502))
                Line((40.4, -22.132398502), (40.4, -7.867601498))
                ThreePointArc((40.4, -7.867601498), (34.403374824, -7.596625176), (34.132398502, -1.6))
                Line((34.132398502, -1.6), (1.6, -1.6))
                Line((1.6, -1.6), (1.6, -28.4))
            make_face()
            with BuildLine():
                Line((3.8, -18.55), (3.8, -26.05))
                ThreePointArc((3.8, -26.05), (3.05, -26.8), (2.3, -26.05))
                Line((2.3, -26.05), (2.3, -18.55))
                ThreePointArc((2.3, -18.55), (3.05, -17.8), (3.8, -18.55))
            make_face(mode=Mode.SUBTRACT)
            with BuildLine():
                Line((3.8, -3.95), (3.8, -11.45))
                ThreePointArc((3.8, -11.45), (3.05, -12.2), (2.3, -11.45))
                Line((2.3, -11.45), (2.3, -3.95))
                ThreePointArc((2.3, -3.95), (3.05, -3.2), (3.8, -3.95))
            make_face(mode=Mode.SUBTRACT)
        extrude(amount=-CUT_EXTRUDE25_DEPTH, mode=Mode.SUBTRACT)


solid = body_2_1.part
